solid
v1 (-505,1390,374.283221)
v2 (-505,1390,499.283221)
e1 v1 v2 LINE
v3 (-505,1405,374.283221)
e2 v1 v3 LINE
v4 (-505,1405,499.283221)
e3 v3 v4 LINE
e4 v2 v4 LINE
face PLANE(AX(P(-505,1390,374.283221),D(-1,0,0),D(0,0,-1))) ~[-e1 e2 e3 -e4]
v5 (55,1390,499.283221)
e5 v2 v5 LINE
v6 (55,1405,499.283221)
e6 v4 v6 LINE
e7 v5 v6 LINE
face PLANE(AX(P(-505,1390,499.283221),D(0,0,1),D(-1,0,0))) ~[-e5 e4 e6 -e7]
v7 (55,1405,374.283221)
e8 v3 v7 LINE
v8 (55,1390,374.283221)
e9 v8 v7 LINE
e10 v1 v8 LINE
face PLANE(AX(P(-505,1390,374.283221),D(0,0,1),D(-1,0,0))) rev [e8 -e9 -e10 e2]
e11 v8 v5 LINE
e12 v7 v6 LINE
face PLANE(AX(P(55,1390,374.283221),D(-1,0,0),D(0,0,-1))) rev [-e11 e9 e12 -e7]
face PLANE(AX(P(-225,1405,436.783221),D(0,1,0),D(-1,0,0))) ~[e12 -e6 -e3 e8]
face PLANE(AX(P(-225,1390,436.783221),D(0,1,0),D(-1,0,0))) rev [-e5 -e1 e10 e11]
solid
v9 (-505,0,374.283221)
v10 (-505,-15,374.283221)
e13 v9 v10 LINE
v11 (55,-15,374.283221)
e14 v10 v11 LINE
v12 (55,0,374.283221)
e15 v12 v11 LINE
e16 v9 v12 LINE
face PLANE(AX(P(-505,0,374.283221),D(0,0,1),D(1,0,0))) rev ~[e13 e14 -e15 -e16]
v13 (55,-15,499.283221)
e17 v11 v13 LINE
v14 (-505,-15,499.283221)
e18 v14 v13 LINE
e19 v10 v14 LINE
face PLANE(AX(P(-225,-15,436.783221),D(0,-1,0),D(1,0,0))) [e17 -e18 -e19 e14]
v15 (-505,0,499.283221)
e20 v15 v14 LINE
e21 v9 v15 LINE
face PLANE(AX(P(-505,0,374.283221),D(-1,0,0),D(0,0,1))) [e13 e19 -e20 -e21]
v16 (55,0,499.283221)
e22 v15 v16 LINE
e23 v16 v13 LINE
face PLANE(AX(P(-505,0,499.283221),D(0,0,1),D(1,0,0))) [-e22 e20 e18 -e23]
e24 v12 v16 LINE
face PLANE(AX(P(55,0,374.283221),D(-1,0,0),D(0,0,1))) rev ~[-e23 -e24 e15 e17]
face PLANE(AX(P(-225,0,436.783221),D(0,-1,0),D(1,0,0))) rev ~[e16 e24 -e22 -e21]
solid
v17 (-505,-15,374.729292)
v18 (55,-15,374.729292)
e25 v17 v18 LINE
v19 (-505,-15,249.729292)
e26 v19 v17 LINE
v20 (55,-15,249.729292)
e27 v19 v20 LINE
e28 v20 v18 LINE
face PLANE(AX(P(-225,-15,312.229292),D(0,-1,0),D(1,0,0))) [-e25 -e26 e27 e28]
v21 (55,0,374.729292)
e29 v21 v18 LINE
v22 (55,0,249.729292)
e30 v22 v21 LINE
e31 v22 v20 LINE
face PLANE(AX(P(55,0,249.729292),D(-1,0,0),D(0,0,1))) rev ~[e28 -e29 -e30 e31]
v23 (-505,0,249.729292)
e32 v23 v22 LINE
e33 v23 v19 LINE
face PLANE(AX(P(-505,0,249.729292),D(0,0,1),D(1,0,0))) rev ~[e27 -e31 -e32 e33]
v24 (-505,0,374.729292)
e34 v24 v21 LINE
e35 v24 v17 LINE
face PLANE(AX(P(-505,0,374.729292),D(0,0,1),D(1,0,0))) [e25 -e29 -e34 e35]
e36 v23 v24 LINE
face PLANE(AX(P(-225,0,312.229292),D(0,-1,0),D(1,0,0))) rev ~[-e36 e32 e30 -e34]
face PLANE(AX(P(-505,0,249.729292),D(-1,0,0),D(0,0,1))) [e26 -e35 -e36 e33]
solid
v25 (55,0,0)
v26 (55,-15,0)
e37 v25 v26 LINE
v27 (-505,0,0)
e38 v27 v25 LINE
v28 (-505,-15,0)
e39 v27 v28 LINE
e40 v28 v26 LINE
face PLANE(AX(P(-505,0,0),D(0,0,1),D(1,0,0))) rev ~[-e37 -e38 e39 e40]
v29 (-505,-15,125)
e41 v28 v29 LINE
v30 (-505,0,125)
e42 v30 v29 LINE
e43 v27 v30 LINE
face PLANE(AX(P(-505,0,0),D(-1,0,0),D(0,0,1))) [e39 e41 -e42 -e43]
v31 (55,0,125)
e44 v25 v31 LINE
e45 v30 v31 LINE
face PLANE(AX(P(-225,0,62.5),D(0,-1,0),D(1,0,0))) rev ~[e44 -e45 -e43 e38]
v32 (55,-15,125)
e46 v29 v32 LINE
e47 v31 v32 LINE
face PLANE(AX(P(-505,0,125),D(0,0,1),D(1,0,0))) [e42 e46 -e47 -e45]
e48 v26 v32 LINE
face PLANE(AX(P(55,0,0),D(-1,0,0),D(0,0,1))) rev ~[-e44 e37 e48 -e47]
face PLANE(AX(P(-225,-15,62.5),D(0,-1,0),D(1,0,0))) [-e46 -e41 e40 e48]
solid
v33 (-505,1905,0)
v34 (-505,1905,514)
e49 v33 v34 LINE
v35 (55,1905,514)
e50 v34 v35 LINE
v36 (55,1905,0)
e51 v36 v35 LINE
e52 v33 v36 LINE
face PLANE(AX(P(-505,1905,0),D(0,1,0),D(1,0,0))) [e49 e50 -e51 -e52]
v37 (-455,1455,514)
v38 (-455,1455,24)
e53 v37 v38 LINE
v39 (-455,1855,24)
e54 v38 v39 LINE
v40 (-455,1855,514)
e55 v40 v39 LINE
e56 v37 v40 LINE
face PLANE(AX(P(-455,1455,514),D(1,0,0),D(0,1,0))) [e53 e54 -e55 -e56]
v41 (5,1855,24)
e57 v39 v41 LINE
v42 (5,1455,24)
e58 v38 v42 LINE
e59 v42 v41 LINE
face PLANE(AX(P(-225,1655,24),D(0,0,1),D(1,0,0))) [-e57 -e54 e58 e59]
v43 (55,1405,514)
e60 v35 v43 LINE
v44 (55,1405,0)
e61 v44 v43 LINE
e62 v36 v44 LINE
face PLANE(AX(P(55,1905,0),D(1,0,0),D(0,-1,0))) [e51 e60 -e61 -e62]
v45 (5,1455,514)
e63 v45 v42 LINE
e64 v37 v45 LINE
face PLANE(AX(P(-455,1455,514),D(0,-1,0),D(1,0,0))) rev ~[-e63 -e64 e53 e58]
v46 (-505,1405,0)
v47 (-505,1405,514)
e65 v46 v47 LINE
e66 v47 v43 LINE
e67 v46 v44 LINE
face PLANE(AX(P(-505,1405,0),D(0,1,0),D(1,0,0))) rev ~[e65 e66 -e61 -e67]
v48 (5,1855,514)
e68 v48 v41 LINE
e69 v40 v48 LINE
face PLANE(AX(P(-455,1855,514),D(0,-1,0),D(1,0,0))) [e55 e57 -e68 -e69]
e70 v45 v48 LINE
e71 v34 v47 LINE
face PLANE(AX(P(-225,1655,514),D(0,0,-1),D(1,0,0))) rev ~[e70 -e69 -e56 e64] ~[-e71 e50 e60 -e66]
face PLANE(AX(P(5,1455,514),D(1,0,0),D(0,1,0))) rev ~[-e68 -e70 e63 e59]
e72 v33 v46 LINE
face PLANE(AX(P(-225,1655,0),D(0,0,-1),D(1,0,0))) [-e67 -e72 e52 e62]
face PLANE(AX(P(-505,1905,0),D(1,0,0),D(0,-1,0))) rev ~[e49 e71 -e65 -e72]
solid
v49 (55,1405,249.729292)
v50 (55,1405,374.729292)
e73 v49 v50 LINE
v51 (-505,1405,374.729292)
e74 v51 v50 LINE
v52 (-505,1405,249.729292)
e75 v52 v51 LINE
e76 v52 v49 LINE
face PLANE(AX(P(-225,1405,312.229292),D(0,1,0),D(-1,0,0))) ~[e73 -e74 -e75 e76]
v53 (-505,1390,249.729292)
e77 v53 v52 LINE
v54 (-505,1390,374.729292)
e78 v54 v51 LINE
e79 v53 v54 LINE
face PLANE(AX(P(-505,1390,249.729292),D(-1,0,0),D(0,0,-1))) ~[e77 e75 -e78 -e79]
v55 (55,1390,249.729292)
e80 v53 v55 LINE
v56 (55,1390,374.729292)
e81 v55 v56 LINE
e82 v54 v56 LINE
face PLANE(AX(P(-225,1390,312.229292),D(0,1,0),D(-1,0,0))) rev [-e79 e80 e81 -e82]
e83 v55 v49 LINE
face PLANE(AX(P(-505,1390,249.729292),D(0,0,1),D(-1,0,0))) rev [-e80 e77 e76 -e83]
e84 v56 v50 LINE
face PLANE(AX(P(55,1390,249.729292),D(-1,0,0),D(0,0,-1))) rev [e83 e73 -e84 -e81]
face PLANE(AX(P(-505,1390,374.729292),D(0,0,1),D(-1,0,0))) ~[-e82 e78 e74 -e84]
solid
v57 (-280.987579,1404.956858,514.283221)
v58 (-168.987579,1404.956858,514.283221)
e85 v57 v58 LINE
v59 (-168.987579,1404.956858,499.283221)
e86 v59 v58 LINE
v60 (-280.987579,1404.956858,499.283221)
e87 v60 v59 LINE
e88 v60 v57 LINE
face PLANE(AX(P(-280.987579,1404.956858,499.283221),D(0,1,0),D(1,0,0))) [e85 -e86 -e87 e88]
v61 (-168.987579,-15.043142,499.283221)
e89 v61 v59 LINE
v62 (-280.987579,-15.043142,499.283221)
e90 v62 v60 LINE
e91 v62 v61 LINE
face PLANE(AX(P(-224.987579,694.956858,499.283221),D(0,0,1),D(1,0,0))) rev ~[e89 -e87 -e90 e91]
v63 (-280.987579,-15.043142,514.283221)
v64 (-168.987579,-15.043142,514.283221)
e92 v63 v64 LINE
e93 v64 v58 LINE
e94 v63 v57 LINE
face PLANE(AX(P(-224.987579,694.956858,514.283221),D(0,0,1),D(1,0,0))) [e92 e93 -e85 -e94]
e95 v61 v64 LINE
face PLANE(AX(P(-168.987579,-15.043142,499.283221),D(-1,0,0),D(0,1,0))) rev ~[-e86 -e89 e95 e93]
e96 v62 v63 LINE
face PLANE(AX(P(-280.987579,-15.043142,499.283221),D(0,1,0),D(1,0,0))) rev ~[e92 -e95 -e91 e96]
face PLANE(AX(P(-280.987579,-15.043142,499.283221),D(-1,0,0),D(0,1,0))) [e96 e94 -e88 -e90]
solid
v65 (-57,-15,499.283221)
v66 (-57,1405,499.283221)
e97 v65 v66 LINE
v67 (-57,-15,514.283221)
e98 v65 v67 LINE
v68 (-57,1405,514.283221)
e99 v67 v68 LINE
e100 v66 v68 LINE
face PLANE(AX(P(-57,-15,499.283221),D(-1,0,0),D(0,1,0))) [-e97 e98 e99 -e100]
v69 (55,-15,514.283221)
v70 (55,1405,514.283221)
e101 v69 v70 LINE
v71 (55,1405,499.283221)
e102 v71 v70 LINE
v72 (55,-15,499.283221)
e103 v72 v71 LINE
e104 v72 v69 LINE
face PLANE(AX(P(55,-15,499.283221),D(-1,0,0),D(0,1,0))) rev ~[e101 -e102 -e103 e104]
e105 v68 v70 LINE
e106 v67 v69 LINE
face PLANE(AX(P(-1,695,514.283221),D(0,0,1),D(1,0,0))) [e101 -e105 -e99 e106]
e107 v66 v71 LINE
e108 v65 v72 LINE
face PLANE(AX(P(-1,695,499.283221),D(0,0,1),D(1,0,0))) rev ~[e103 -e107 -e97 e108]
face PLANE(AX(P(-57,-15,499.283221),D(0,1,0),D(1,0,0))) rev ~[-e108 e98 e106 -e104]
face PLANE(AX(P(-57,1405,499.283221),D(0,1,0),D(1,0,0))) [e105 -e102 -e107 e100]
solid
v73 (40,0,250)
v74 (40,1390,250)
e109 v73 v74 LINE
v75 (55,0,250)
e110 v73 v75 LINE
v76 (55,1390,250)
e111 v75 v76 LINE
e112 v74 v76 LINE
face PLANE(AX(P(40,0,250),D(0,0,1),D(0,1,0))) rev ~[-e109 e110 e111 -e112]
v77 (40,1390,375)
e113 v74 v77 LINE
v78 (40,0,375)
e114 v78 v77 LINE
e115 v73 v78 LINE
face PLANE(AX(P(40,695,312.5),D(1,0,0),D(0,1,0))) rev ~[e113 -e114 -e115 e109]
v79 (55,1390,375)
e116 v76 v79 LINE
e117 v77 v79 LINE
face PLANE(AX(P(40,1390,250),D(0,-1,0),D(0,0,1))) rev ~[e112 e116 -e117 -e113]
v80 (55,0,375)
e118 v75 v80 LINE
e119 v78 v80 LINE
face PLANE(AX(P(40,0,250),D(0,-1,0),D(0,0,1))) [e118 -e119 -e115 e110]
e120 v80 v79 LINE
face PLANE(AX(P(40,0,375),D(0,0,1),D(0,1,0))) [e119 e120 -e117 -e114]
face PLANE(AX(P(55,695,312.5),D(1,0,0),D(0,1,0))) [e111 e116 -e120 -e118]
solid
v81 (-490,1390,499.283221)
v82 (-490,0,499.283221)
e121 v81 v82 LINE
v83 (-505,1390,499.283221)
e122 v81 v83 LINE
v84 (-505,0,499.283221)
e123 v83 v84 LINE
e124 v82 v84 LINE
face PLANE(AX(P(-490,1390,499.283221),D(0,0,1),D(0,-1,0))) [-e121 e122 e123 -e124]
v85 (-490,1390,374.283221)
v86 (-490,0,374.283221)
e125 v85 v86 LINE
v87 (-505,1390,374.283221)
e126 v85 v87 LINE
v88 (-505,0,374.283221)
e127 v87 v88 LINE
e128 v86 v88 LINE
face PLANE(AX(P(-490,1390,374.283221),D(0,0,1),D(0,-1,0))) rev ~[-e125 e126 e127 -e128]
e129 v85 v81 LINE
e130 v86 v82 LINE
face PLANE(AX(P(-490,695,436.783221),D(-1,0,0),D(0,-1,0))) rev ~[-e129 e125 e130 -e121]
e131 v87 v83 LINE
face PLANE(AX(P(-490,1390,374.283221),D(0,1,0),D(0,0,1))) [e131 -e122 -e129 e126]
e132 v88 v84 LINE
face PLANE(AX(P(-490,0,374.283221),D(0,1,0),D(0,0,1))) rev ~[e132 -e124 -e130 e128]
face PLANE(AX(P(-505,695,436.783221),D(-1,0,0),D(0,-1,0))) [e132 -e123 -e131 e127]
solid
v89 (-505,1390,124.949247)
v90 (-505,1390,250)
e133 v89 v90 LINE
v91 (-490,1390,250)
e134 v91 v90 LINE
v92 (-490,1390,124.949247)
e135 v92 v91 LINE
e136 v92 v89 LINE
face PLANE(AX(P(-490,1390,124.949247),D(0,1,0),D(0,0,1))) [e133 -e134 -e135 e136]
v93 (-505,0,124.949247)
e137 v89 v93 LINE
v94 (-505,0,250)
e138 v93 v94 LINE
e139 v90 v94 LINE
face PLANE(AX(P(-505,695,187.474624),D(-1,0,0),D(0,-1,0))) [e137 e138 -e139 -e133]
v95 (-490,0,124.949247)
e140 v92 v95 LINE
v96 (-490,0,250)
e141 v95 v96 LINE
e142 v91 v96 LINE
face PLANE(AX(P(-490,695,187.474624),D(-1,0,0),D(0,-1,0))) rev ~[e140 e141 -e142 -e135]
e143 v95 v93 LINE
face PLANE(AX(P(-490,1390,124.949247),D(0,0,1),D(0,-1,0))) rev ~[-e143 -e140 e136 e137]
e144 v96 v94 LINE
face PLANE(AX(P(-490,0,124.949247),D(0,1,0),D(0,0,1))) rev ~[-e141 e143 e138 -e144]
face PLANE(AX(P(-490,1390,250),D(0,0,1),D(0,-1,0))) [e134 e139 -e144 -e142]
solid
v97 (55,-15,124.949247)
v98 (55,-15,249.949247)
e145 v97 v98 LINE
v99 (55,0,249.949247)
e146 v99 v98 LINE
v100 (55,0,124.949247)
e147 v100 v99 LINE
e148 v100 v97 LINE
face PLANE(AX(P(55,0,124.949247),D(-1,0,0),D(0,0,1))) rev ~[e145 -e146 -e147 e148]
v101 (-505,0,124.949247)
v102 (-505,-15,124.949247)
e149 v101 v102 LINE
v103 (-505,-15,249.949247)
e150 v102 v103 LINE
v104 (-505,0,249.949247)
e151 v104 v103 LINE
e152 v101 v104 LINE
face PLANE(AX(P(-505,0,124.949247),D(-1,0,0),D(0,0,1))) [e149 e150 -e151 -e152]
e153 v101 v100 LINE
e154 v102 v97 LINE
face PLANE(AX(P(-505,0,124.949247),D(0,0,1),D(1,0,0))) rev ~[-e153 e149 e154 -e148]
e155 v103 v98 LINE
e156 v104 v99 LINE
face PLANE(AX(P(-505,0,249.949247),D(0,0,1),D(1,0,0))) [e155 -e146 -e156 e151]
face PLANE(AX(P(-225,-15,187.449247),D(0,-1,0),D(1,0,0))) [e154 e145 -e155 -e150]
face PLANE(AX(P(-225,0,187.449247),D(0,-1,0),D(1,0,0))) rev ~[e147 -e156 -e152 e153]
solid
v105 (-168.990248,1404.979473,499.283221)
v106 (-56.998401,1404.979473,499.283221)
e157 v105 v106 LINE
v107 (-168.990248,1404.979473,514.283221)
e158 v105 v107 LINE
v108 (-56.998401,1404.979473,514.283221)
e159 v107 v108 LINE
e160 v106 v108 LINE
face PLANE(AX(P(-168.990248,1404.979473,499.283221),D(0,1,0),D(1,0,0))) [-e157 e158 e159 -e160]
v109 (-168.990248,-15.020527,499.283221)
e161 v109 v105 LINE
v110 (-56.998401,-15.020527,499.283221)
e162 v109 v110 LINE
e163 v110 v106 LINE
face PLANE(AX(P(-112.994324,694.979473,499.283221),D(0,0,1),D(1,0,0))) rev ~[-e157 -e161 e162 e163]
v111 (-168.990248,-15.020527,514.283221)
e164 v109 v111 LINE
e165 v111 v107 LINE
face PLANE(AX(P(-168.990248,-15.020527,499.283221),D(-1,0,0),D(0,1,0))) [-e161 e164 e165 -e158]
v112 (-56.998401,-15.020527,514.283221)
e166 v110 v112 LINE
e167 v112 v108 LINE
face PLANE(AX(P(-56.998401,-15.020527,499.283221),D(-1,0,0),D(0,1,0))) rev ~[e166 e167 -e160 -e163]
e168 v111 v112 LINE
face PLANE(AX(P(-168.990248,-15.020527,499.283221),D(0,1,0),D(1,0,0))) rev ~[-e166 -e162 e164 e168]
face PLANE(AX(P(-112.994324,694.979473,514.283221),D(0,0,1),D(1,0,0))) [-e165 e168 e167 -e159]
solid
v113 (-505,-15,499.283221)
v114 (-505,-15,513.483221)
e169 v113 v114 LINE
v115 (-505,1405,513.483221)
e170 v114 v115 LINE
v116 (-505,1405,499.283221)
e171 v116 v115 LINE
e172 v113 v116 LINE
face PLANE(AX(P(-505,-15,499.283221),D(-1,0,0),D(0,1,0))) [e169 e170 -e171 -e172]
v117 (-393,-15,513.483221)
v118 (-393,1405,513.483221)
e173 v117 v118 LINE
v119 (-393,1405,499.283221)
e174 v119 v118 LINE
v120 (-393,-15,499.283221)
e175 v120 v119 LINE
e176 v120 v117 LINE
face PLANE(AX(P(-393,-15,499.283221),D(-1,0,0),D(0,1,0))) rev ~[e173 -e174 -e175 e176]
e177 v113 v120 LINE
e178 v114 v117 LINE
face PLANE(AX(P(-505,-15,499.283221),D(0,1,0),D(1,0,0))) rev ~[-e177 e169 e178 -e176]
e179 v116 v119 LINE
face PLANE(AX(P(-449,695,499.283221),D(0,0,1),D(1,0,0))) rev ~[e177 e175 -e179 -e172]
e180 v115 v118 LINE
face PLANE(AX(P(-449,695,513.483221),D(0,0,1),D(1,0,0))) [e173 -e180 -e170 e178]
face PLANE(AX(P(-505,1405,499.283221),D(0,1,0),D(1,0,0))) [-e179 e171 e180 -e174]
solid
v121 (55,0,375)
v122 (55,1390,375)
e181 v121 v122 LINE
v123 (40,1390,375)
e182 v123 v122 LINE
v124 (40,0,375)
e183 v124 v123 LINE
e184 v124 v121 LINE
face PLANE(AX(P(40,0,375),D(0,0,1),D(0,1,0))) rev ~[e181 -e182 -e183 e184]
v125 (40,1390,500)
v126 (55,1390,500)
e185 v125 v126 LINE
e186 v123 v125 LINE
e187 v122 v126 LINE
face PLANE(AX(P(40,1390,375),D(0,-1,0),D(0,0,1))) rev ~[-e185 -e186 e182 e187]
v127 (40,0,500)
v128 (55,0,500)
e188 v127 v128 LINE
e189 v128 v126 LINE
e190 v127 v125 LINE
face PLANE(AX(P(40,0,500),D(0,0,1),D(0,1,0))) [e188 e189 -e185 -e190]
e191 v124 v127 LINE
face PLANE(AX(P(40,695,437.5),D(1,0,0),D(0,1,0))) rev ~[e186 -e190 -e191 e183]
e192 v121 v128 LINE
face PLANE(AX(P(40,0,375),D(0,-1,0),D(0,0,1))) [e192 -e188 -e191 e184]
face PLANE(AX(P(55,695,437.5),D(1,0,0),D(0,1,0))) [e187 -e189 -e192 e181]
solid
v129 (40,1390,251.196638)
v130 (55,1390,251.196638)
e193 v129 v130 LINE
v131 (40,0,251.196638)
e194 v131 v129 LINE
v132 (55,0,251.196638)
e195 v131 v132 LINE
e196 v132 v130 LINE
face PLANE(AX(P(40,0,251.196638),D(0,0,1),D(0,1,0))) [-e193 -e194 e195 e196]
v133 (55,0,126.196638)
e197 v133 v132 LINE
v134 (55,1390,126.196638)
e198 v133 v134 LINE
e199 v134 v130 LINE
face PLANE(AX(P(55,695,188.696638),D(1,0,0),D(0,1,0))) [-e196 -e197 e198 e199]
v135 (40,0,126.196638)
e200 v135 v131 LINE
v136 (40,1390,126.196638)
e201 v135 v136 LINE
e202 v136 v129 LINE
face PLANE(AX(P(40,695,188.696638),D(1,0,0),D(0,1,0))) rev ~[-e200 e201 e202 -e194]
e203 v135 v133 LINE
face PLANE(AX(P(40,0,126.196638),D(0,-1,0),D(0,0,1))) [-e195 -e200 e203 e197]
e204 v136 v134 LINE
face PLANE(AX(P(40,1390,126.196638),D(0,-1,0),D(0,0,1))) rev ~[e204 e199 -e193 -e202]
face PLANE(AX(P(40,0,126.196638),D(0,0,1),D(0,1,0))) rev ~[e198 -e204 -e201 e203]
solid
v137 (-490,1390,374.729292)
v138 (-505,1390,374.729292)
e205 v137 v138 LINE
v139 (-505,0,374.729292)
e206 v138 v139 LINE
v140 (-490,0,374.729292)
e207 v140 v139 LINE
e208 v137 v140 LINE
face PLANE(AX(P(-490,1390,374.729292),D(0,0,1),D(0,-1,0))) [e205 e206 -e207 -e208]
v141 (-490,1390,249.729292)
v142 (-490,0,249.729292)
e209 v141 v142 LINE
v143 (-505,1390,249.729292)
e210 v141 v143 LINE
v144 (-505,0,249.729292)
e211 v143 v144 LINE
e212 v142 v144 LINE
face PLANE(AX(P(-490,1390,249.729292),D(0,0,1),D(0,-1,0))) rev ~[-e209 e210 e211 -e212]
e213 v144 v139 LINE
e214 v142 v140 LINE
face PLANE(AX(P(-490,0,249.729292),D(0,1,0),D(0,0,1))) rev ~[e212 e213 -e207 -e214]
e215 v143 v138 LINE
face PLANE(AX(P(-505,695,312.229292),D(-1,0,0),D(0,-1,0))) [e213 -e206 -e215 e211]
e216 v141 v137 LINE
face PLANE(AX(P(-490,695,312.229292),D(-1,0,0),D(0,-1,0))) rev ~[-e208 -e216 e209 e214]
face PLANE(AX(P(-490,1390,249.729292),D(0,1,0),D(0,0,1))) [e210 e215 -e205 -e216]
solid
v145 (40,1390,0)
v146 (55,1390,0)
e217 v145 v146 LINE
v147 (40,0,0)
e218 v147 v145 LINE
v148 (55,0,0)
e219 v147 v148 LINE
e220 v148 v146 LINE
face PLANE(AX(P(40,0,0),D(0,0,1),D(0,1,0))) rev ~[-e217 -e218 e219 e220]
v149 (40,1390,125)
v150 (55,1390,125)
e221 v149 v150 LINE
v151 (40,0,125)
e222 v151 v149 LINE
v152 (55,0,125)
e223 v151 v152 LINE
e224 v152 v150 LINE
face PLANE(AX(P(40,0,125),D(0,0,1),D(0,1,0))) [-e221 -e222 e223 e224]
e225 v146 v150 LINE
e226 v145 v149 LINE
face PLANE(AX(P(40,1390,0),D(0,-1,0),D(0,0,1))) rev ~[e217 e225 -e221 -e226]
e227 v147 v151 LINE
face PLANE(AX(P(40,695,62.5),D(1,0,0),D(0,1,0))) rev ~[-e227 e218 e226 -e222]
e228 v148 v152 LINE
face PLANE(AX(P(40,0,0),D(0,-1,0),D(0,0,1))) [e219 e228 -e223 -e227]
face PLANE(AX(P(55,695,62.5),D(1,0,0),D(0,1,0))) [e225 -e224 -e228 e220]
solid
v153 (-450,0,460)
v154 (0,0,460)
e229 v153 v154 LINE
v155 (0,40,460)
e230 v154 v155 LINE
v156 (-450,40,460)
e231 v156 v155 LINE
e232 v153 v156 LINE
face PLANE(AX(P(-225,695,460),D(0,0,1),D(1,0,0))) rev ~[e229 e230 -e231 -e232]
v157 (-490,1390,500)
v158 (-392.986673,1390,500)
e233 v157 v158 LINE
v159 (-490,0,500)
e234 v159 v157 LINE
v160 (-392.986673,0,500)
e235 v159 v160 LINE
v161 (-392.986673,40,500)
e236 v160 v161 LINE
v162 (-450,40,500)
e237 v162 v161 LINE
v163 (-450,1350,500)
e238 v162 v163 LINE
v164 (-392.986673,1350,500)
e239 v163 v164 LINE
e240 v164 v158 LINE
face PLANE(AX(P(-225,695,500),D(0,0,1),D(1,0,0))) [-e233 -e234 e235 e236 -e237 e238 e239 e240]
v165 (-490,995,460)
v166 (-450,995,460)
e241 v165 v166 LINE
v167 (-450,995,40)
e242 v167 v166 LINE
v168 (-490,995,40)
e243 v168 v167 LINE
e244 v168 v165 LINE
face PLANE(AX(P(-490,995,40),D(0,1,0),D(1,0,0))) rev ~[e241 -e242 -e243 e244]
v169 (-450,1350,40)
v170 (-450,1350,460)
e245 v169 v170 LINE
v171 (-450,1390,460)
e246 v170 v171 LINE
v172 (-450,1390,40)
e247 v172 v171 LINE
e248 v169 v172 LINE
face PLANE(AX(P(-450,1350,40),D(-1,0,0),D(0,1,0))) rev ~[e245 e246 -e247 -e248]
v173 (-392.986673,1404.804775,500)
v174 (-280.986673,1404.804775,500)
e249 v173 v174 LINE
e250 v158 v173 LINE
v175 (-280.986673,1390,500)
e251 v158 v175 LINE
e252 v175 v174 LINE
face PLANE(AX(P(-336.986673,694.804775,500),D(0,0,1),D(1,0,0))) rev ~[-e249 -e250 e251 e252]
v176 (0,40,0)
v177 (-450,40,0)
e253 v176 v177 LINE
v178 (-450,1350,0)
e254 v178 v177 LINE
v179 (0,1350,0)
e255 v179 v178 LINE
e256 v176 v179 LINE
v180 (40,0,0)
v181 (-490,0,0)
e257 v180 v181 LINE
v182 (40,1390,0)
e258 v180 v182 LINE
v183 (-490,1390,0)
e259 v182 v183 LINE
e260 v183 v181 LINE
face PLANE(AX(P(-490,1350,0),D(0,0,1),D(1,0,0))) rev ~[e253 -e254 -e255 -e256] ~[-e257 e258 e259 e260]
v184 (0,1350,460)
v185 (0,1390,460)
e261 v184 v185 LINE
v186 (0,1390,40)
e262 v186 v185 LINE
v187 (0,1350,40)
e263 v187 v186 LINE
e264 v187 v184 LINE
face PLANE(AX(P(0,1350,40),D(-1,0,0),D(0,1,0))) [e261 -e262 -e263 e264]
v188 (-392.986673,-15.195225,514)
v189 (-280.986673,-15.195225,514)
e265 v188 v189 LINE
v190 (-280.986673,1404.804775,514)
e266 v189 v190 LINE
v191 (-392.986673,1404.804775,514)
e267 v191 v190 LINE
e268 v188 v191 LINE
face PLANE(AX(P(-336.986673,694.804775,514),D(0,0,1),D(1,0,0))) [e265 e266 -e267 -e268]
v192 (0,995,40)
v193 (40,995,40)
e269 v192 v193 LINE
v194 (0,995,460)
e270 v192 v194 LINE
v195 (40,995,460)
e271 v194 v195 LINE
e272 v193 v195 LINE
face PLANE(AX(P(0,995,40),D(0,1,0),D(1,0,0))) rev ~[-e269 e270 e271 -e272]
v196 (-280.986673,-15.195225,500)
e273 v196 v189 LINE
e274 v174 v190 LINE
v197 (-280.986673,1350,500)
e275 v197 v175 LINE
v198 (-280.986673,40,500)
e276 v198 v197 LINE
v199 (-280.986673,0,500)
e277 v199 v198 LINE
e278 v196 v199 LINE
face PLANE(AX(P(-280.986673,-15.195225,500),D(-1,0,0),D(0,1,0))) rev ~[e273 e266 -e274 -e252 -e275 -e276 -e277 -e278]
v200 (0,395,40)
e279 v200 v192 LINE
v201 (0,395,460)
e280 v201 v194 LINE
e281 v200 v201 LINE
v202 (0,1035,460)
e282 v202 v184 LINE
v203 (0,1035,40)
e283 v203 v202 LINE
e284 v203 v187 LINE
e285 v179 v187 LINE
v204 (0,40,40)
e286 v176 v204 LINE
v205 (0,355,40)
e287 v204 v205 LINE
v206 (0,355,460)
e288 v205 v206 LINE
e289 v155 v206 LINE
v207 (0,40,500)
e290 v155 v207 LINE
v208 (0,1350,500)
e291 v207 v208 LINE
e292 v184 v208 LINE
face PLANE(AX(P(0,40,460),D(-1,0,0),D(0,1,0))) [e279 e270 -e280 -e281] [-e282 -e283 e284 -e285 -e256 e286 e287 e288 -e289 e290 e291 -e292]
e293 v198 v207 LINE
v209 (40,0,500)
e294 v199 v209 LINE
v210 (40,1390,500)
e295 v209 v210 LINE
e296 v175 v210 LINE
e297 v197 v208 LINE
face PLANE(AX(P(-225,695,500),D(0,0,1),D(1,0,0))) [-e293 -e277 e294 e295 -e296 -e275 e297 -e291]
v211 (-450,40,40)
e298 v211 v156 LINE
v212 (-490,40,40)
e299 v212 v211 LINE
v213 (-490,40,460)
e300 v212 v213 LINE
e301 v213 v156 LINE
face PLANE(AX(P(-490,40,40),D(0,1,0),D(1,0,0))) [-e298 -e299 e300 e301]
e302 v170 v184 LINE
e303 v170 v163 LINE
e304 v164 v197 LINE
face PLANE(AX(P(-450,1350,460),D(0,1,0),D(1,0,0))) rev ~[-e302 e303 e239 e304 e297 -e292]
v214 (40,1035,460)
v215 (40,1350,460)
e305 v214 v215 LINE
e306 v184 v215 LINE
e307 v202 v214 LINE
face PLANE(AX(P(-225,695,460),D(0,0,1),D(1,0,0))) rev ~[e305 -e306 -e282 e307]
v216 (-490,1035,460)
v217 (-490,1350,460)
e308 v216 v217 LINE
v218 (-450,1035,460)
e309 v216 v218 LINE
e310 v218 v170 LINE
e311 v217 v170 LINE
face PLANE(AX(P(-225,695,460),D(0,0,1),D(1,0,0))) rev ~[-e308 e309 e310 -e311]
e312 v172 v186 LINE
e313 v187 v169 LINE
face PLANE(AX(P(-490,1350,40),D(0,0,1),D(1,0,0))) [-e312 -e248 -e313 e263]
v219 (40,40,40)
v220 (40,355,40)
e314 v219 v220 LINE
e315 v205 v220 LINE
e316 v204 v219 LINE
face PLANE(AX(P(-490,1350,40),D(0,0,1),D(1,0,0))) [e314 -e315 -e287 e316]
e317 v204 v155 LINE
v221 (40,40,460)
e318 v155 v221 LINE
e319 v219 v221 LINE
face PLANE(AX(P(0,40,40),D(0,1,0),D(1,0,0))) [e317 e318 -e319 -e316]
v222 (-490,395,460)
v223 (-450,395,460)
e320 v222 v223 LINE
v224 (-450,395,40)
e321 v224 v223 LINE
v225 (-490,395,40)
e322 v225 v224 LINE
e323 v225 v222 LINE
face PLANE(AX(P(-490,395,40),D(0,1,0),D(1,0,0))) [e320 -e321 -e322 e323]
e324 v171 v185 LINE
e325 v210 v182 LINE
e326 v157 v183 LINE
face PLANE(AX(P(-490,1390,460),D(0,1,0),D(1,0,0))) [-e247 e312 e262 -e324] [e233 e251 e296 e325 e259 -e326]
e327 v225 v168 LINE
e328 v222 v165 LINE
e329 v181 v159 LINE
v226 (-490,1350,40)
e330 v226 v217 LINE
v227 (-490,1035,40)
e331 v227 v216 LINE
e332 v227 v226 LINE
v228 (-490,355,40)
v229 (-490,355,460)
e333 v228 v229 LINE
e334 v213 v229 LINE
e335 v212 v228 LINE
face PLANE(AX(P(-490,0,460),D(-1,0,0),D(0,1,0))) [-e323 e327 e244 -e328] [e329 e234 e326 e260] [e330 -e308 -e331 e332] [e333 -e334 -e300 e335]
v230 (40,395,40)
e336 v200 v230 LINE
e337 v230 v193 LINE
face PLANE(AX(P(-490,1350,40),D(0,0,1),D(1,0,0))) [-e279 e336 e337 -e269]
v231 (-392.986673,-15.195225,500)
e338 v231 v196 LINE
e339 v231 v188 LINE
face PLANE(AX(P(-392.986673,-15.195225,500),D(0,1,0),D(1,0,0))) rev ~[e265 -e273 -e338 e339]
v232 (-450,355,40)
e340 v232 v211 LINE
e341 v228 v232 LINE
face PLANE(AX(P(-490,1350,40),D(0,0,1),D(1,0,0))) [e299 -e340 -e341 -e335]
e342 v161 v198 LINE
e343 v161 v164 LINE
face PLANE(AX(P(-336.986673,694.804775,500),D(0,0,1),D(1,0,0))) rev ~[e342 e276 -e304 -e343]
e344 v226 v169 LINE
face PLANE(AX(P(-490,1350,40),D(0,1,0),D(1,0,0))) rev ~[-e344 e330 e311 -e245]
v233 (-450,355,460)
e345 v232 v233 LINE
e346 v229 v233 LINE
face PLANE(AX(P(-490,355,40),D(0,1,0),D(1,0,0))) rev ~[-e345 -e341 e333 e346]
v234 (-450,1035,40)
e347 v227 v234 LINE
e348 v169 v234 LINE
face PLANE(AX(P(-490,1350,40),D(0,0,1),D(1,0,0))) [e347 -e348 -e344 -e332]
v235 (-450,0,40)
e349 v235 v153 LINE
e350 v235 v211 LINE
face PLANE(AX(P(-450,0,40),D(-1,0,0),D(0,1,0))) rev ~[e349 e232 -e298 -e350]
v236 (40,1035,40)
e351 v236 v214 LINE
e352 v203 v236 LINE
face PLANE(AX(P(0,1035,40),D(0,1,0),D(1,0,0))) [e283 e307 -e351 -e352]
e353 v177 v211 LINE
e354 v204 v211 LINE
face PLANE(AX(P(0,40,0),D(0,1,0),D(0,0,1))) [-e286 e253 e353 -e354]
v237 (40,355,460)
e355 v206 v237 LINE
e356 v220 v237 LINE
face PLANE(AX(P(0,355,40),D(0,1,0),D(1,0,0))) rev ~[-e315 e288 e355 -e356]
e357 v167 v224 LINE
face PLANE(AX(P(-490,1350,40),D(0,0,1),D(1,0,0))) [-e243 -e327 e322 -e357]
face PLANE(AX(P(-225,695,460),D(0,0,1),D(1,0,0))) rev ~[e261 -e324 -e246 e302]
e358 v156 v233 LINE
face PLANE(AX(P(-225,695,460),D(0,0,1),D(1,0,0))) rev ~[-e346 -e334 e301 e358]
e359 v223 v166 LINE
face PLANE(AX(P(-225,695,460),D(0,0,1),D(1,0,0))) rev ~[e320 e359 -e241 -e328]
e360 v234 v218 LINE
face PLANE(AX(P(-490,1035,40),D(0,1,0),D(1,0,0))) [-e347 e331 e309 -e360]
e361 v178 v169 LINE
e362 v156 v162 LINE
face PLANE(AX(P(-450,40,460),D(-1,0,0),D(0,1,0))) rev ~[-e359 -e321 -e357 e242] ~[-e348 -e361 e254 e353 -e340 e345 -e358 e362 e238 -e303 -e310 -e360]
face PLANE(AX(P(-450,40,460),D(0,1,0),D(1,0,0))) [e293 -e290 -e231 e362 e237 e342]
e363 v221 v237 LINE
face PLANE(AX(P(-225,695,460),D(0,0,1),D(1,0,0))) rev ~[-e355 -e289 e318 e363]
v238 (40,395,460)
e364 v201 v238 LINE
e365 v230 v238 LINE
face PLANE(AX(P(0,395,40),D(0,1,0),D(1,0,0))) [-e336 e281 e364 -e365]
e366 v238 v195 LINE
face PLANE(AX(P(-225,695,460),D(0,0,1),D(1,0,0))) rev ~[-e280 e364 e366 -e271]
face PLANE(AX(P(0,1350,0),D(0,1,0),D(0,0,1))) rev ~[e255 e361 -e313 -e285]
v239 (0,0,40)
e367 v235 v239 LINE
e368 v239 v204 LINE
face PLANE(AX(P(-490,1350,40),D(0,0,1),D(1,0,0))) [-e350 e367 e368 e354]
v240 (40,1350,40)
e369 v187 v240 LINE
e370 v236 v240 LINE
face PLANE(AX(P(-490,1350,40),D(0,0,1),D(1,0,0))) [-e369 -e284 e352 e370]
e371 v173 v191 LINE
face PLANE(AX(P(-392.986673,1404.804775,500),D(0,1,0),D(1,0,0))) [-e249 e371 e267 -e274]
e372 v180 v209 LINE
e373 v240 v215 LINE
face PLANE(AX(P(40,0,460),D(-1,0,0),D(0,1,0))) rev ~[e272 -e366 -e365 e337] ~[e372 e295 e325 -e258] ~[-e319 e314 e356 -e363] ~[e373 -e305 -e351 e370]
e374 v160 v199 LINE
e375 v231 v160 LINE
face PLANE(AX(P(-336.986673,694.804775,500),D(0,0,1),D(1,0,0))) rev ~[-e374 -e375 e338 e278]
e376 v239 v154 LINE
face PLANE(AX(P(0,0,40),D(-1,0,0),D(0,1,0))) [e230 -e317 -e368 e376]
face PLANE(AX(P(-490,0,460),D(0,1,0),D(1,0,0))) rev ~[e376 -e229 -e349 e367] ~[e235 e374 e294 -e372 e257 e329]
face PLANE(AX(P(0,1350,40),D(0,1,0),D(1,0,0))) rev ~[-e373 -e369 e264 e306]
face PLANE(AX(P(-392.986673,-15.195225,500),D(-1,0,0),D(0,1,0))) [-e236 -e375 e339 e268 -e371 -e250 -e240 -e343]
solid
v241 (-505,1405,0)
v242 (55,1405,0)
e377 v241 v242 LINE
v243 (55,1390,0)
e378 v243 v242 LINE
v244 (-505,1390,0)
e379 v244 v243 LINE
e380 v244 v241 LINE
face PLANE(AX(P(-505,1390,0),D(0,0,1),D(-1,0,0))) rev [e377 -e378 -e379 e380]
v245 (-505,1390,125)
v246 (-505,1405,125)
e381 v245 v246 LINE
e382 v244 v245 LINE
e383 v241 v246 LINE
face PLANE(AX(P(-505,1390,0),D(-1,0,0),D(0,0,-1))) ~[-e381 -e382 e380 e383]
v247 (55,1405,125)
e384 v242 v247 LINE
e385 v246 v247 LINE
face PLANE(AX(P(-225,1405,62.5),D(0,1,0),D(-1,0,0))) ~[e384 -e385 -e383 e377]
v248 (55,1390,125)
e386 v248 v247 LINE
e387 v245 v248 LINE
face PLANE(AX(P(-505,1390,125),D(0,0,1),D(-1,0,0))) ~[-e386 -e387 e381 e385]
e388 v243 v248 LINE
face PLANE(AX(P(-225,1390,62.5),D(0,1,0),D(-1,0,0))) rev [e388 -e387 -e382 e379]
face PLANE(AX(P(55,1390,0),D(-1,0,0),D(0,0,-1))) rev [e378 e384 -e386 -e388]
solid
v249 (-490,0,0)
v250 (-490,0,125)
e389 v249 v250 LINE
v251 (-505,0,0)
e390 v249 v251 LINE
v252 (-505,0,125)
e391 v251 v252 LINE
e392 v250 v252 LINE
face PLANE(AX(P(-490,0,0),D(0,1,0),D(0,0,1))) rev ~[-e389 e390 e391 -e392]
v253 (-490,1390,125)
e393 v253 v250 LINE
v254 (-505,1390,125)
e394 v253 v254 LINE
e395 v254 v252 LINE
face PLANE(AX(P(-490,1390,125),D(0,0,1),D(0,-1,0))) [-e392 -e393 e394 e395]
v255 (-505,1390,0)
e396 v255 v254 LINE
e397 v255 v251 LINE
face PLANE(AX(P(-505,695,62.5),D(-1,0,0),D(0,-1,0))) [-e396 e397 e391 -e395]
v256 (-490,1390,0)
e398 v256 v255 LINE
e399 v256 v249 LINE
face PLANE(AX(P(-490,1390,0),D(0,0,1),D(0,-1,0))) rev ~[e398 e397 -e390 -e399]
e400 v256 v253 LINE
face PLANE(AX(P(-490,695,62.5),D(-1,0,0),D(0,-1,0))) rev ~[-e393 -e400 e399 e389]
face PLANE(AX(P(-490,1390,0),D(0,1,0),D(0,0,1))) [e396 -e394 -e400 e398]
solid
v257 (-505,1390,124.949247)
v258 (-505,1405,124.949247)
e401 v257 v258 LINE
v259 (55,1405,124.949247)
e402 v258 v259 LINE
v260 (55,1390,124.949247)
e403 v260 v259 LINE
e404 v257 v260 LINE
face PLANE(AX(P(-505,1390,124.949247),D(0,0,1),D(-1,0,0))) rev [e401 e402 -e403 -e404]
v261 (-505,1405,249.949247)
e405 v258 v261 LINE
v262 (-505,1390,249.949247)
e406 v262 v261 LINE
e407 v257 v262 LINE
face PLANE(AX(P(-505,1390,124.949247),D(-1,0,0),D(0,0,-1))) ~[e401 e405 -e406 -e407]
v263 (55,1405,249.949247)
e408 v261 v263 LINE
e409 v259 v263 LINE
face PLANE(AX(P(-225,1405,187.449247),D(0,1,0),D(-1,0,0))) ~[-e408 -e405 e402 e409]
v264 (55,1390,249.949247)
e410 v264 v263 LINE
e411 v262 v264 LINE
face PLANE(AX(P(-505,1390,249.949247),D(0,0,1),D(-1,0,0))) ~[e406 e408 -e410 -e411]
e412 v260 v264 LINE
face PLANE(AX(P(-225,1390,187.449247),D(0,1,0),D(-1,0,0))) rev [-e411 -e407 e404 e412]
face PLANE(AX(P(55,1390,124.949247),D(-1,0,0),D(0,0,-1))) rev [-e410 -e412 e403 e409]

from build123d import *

# Parameters (mm, degrees)
F0_W      = 1390
F0_H      = 40
F1_DEPTH  = 40
F2_W      = 40
F2_H      = 40
F3_DEPTH  = 490
F4_W      = 40
F4_H      = 40
F5_DEPTH  = 1310
F6_W      = 40
F6_H      = 40
F7_DEPTH  = 420
F8_W      = 530
F8_H      = 1390
F8_W_2    = 450
F8_H_2    = 1310
F9_DEPTH  = 40
F10_W     = 40
F10_H     = 40
F11_DEPTH = 420
F12_W     = 40
F12_H     = 40
F13_DEPTH = 420
F15_W     = 1390
F15_H     = 125
F16_DEPTH = 15
F17_W     = 1390
F17_H     = 125
F18_DEPTH = 15
F19_W     = 1390
F19_H     = 125
F20_DEPTH = 15
F21_W     = 1390
F21_H     = 125
F22_DEPTH = 15
F23_W     = 1390
F23_H     = 125
F24_DEPTH = 15
F25_W     = 1390
F25_H     = 125.050753
F26_DEPTH = 15
F27_W     = 1390
F27_H     = 125
F28_DEPTH = 15
F29_W     = 1390
F29_H     = 125
F30_DEPTH = 15
F32_W     = 560
F32_H     = 125
F33_DEPTH = 15
F34_W     = 560
F34_H     = 125
F35_DEPTH = 15
F36_W     = 560
F36_H     = 125
F37_DEPTH = 15
F38_W     = 560
F38_H     = 125
F39_DEPTH = 15
F42_W     = 112
F42_H     = 1420
F43_DEPTH = 14.2
F44_W     = 112
F44_H     = 1420
F45_DEPTH = 15
F47_W     = 112
F47_H     = 1420
F48_DEPTH = 14
F49_W     = 112
F49_H     = 1420
F50_DEPTH = 15
F51_W     = 111.991847
F51_H     = 1420
F52_DEPTH = 15
F53_W     = 560
F53_H     = 500
F54_DEPTH = 514
F55_W     = 460
F55_H     = 400
F56_DEPTH = 490


with BuildPart() as f1:
    # F0 (on Right) → F1 (new body)
    with BuildSketch(Plane.YZ):
        with Locations((695, 20)):
            Rectangle(F0_W, F0_H)
    extrude(amount=F1_DEPTH)

    # F2 (on face) → F3 (join)
    with BuildSketch(Plane(origin=(0, 0, 0), x_dir=(0, -1, 0), z_dir=(-1, 0, 0))):
        with Locations((-1370, 20)):
            Rectangle(F2_W, F2_H)
        with Locations((-20, 20)):
            Rectangle(F2_W, F2_H)
    extrude(amount=F3_DEPTH)

    # F4 (on face) → F5 (join)
    with BuildSketch(Plane.XZ.offset(-1350)):
        with Locations((-470, 20)):
            Rectangle(F4_W, F4_H)
    extrude(amount=F5_DEPTH)

    # F6 (on face) → F7 (join)
    with BuildSketch(Plane.XY.offset(40)):
        with Locations((-470, 1370)):
            Rectangle(F6_W, F6_H)
        with Locations((20, 1370)):
            Rectangle(F6_W, F6_H)
        with Locations((20, 20)):
            Rectangle(F6_W, F6_H)
        with Locations((-470, 20)):
            Rectangle(F6_W, F6_H)
    extrude(amount=F7_DEPTH)

    # F8 (on face) → F9 (join)
    with BuildSketch(Plane.XY.offset(460)):
        with Locations((-225, 695)):
            Rectangle(F8_W, F8_H)
        with Locations((-225, 695)):
            Rectangle(F8_W_2, F8_H_2, mode=Mode.SUBTRACT)
    extrude(amount=F9_DEPTH)

    # F10 (on face) → F11 (join)
    with BuildSketch(Plane.XY.offset(40)):
        with Locations((-470, 1015)):
            Rectangle(F10_W, F10_H)
        with Locations((-470, 375)):
            Rectangle(F10_W, F10_H)
    extrude(amount=F11_DEPTH)

    # F12 (on face) → F13 (join)
    with BuildSketch(Plane.XY.offset(40)):
        with Locations((20, 1015)):
            Rectangle(F12_W, F12_H)
        with Locations((20, 375)):
            Rectangle(F12_W, F12_H)
    extrude(amount=F13_DEPTH)

    # F47 (on face) → F48 (join)
    with BuildSketch(Plane.XY.offset(500)):
        with Locations((-336.986673, 694.804775)):
            Rectangle(F47_W, F47_H)
    extrude(amount=F48_DEPTH)


with BuildPart() as f16:
    # F15 (on face) → F16 (new body)
    with BuildSketch(Plane.YZ.offset(40)):
        with Locations((695, 437.5)):
            Rectangle(F15_W, F15_H)
    extrude(amount=F16_DEPTH)


with BuildPart() as f18:
    # F17 (on face) → F18 (new body)
    with BuildSketch(Plane.YZ.offset(40)):
        with Locations((695, 62.5)):
            Rectangle(F17_W, F17_H)
    extrude(amount=F18_DEPTH)


with BuildPart() as f20:
    # F19 (on face) → F20 (new body)
    with BuildSketch(Plane.YZ.offset(40)):
        with Locations((695, 188.696638)):
            Rectangle(F19_W, F19_H)
    extrude(amount=F20_DEPTH)


with BuildPart() as f22:
    # F21 (on face) → F22 (new body)
    with BuildSketch(Plane.YZ.offset(40)):
        with Locations((695, 312.5)):
            Rectangle(F21_W, F21_H)
    extrude(amount=F22_DEPTH)


with BuildPart() as f24:
    # F23 (on face) → F24 (new body)
    with BuildSketch(Plane(origin=(-490, 0, 0), x_dir=(0, -1, 0), z_dir=(-1, 0, 0))):
        with Locations((-695, 62.5)):
            Rectangle(F23_W, F23_H)
    extrude(amount=F24_DEPTH)


with BuildPart() as f26:
    # F25 (on face) → F26 (new body)
    with BuildSketch(Plane(origin=(-490, 0, 0), x_dir=(0, -1, 0), z_dir=(-1, 0, 0))):
        with Locations((-695, 187.474624)):
            Rectangle(F25_W, F25_H)
    extrude(amount=F26_DEPTH)


with BuildPart() as f28:
    # F27 (on face) → F28 (new body)
    with BuildSketch(Plane(origin=(-490, 0, 0), x_dir=(0, -1, 0), z_dir=(-1, 0, 0))):
        with Locations((-695, 312.229292)):
            Rectangle(F27_W, F27_H)
    extrude(amount=F28_DEPTH)


with BuildPart() as f30:
    # F29 (on face) → F30 (new body)
    with BuildSketch(Plane(origin=(-490, 0, 0), x_dir=(0, -1, 0), z_dir=(-1, 0, 0))):
        with Locations((-695, 436.783221)):
            Rectangle(F29_W, F29_H)
    extrude(amount=F30_DEPTH)


with BuildPart() as f33:
    # F32 (on face) → F33 (new body)
    with BuildSketch(Plane.XZ):
        with Locations((-225, 62.5)):
            Rectangle(F32_W, F32_H)
    extrude(amount=F33_DEPTH)


with BuildPart() as f35:
    # F34 (on face) → F35 (new body)
    with BuildSketch(Plane.XZ):
        with Locations((-225, 187.449247)):
            Rectangle(F34_W, F34_H)
    extrude(amount=F35_DEPTH)


with BuildPart() as f37:
    # F36 (on face) → F37 (new body)
    with BuildSketch(Plane.XZ):
        with Locations((-225, 312.229292)):
            Rectangle(F36_W, F36_H)
    extrude(amount=F37_DEPTH)


with BuildPart() as f39:
    # F38 (on face) → F39 (new body)
    with BuildSketch(Plane.XZ):
        with Locations((-225, 436.783221)):
            Rectangle(F38_W, F38_H)
    extrude(amount=F39_DEPTH)


with BuildPart() as f40_1:
    # F40: instance of F39
    add(f39.part.mirror(Plane(origin=(-225, 695, 250), x_dir=(1, 0, 0), z_dir=(0, -1, 0))))


with BuildPart() as f40_2:
    # F40: instance of F37
    add(f37.part.mirror(Plane(origin=(-225, 695, 250), x_dir=(1, 0, 0), z_dir=(0, -1, 0))))


with BuildPart() as f40_3:
    # F40: instance of F35
    add(f35.part.mirror(Plane(origin=(-225, 695, 250), x_dir=(1, 0, 0), z_dir=(0, -1, 0))))


with BuildPart() as f40_4:
    # F40: instance of F33
    add(f33.part.mirror(Plane(origin=(-225, 695, 250), x_dir=(1, 0, 0), z_dir=(0, -1, 0))))


with BuildPart() as f43:
    # F42 (on face) → F43 (new body)
    with BuildSketch(Plane.XY.offset(499.283221)):
        with Locations((-449, 695)):
            Rectangle(F42_W, F42_H)
    extrude(amount=F43_DEPTH)


with BuildPart() as f45:
    # F44 (on face) → F45 (new body)
    with BuildSketch(Plane.XY.offset(499.283221)):
        with Locations((-1, 695)):
            Rectangle(F44_W, F44_H)
    extrude(amount=F45_DEPTH)


with BuildPart() as f50:
    # F49 (on face) → F50 (new body)
    with BuildSketch(Plane.XY.offset(499.283221)):
        with Locations((-224.987579, 694.956858)):
            Rectangle(F49_W, F49_H)
    extrude(amount=F50_DEPTH)


with BuildPart() as f52:
    # F51 (on face) → F52 (new body)
    with BuildSketch(Plane.XY.offset(499.283221)):
        with Locations((-112.994324, 694.979473)):
            Rectangle(F51_W, F51_H)
    extrude(amount=F52_DEPTH)


with BuildPart() as f54:
    # F53 (on face) → F54 (new body)
    with BuildSketch(Plane(origin=(0, 0, 0), x_dir=(1, 0, 0), z_dir=(0, 0, -1))):
        with Locations((-225, -1655)):
            Rectangle(F53_W, F53_H)
    extrude(amount=-F54_DEPTH)

    # F55 (on face) → F56 (cut)
    with BuildSketch(Plane.XY.offset(514)):
        with Locations((-225, 1655)):
            Rectangle(F55_W, F55_H)
    extrude(amount=-F56_DEPTH, mode=Mode.SUBTRACT)


solid = Compound([f1.part, f16.part, f18.part, f20.part, f22.part, f24.part, f26.part, f28.part, f30.part, f33.part, f35.part, f37.part, f39.part, f40_1.part, f40_2.part, f40_3.part, f40_4.part, f43.part, f45.part, f50.part, f52.part, f54.part])
